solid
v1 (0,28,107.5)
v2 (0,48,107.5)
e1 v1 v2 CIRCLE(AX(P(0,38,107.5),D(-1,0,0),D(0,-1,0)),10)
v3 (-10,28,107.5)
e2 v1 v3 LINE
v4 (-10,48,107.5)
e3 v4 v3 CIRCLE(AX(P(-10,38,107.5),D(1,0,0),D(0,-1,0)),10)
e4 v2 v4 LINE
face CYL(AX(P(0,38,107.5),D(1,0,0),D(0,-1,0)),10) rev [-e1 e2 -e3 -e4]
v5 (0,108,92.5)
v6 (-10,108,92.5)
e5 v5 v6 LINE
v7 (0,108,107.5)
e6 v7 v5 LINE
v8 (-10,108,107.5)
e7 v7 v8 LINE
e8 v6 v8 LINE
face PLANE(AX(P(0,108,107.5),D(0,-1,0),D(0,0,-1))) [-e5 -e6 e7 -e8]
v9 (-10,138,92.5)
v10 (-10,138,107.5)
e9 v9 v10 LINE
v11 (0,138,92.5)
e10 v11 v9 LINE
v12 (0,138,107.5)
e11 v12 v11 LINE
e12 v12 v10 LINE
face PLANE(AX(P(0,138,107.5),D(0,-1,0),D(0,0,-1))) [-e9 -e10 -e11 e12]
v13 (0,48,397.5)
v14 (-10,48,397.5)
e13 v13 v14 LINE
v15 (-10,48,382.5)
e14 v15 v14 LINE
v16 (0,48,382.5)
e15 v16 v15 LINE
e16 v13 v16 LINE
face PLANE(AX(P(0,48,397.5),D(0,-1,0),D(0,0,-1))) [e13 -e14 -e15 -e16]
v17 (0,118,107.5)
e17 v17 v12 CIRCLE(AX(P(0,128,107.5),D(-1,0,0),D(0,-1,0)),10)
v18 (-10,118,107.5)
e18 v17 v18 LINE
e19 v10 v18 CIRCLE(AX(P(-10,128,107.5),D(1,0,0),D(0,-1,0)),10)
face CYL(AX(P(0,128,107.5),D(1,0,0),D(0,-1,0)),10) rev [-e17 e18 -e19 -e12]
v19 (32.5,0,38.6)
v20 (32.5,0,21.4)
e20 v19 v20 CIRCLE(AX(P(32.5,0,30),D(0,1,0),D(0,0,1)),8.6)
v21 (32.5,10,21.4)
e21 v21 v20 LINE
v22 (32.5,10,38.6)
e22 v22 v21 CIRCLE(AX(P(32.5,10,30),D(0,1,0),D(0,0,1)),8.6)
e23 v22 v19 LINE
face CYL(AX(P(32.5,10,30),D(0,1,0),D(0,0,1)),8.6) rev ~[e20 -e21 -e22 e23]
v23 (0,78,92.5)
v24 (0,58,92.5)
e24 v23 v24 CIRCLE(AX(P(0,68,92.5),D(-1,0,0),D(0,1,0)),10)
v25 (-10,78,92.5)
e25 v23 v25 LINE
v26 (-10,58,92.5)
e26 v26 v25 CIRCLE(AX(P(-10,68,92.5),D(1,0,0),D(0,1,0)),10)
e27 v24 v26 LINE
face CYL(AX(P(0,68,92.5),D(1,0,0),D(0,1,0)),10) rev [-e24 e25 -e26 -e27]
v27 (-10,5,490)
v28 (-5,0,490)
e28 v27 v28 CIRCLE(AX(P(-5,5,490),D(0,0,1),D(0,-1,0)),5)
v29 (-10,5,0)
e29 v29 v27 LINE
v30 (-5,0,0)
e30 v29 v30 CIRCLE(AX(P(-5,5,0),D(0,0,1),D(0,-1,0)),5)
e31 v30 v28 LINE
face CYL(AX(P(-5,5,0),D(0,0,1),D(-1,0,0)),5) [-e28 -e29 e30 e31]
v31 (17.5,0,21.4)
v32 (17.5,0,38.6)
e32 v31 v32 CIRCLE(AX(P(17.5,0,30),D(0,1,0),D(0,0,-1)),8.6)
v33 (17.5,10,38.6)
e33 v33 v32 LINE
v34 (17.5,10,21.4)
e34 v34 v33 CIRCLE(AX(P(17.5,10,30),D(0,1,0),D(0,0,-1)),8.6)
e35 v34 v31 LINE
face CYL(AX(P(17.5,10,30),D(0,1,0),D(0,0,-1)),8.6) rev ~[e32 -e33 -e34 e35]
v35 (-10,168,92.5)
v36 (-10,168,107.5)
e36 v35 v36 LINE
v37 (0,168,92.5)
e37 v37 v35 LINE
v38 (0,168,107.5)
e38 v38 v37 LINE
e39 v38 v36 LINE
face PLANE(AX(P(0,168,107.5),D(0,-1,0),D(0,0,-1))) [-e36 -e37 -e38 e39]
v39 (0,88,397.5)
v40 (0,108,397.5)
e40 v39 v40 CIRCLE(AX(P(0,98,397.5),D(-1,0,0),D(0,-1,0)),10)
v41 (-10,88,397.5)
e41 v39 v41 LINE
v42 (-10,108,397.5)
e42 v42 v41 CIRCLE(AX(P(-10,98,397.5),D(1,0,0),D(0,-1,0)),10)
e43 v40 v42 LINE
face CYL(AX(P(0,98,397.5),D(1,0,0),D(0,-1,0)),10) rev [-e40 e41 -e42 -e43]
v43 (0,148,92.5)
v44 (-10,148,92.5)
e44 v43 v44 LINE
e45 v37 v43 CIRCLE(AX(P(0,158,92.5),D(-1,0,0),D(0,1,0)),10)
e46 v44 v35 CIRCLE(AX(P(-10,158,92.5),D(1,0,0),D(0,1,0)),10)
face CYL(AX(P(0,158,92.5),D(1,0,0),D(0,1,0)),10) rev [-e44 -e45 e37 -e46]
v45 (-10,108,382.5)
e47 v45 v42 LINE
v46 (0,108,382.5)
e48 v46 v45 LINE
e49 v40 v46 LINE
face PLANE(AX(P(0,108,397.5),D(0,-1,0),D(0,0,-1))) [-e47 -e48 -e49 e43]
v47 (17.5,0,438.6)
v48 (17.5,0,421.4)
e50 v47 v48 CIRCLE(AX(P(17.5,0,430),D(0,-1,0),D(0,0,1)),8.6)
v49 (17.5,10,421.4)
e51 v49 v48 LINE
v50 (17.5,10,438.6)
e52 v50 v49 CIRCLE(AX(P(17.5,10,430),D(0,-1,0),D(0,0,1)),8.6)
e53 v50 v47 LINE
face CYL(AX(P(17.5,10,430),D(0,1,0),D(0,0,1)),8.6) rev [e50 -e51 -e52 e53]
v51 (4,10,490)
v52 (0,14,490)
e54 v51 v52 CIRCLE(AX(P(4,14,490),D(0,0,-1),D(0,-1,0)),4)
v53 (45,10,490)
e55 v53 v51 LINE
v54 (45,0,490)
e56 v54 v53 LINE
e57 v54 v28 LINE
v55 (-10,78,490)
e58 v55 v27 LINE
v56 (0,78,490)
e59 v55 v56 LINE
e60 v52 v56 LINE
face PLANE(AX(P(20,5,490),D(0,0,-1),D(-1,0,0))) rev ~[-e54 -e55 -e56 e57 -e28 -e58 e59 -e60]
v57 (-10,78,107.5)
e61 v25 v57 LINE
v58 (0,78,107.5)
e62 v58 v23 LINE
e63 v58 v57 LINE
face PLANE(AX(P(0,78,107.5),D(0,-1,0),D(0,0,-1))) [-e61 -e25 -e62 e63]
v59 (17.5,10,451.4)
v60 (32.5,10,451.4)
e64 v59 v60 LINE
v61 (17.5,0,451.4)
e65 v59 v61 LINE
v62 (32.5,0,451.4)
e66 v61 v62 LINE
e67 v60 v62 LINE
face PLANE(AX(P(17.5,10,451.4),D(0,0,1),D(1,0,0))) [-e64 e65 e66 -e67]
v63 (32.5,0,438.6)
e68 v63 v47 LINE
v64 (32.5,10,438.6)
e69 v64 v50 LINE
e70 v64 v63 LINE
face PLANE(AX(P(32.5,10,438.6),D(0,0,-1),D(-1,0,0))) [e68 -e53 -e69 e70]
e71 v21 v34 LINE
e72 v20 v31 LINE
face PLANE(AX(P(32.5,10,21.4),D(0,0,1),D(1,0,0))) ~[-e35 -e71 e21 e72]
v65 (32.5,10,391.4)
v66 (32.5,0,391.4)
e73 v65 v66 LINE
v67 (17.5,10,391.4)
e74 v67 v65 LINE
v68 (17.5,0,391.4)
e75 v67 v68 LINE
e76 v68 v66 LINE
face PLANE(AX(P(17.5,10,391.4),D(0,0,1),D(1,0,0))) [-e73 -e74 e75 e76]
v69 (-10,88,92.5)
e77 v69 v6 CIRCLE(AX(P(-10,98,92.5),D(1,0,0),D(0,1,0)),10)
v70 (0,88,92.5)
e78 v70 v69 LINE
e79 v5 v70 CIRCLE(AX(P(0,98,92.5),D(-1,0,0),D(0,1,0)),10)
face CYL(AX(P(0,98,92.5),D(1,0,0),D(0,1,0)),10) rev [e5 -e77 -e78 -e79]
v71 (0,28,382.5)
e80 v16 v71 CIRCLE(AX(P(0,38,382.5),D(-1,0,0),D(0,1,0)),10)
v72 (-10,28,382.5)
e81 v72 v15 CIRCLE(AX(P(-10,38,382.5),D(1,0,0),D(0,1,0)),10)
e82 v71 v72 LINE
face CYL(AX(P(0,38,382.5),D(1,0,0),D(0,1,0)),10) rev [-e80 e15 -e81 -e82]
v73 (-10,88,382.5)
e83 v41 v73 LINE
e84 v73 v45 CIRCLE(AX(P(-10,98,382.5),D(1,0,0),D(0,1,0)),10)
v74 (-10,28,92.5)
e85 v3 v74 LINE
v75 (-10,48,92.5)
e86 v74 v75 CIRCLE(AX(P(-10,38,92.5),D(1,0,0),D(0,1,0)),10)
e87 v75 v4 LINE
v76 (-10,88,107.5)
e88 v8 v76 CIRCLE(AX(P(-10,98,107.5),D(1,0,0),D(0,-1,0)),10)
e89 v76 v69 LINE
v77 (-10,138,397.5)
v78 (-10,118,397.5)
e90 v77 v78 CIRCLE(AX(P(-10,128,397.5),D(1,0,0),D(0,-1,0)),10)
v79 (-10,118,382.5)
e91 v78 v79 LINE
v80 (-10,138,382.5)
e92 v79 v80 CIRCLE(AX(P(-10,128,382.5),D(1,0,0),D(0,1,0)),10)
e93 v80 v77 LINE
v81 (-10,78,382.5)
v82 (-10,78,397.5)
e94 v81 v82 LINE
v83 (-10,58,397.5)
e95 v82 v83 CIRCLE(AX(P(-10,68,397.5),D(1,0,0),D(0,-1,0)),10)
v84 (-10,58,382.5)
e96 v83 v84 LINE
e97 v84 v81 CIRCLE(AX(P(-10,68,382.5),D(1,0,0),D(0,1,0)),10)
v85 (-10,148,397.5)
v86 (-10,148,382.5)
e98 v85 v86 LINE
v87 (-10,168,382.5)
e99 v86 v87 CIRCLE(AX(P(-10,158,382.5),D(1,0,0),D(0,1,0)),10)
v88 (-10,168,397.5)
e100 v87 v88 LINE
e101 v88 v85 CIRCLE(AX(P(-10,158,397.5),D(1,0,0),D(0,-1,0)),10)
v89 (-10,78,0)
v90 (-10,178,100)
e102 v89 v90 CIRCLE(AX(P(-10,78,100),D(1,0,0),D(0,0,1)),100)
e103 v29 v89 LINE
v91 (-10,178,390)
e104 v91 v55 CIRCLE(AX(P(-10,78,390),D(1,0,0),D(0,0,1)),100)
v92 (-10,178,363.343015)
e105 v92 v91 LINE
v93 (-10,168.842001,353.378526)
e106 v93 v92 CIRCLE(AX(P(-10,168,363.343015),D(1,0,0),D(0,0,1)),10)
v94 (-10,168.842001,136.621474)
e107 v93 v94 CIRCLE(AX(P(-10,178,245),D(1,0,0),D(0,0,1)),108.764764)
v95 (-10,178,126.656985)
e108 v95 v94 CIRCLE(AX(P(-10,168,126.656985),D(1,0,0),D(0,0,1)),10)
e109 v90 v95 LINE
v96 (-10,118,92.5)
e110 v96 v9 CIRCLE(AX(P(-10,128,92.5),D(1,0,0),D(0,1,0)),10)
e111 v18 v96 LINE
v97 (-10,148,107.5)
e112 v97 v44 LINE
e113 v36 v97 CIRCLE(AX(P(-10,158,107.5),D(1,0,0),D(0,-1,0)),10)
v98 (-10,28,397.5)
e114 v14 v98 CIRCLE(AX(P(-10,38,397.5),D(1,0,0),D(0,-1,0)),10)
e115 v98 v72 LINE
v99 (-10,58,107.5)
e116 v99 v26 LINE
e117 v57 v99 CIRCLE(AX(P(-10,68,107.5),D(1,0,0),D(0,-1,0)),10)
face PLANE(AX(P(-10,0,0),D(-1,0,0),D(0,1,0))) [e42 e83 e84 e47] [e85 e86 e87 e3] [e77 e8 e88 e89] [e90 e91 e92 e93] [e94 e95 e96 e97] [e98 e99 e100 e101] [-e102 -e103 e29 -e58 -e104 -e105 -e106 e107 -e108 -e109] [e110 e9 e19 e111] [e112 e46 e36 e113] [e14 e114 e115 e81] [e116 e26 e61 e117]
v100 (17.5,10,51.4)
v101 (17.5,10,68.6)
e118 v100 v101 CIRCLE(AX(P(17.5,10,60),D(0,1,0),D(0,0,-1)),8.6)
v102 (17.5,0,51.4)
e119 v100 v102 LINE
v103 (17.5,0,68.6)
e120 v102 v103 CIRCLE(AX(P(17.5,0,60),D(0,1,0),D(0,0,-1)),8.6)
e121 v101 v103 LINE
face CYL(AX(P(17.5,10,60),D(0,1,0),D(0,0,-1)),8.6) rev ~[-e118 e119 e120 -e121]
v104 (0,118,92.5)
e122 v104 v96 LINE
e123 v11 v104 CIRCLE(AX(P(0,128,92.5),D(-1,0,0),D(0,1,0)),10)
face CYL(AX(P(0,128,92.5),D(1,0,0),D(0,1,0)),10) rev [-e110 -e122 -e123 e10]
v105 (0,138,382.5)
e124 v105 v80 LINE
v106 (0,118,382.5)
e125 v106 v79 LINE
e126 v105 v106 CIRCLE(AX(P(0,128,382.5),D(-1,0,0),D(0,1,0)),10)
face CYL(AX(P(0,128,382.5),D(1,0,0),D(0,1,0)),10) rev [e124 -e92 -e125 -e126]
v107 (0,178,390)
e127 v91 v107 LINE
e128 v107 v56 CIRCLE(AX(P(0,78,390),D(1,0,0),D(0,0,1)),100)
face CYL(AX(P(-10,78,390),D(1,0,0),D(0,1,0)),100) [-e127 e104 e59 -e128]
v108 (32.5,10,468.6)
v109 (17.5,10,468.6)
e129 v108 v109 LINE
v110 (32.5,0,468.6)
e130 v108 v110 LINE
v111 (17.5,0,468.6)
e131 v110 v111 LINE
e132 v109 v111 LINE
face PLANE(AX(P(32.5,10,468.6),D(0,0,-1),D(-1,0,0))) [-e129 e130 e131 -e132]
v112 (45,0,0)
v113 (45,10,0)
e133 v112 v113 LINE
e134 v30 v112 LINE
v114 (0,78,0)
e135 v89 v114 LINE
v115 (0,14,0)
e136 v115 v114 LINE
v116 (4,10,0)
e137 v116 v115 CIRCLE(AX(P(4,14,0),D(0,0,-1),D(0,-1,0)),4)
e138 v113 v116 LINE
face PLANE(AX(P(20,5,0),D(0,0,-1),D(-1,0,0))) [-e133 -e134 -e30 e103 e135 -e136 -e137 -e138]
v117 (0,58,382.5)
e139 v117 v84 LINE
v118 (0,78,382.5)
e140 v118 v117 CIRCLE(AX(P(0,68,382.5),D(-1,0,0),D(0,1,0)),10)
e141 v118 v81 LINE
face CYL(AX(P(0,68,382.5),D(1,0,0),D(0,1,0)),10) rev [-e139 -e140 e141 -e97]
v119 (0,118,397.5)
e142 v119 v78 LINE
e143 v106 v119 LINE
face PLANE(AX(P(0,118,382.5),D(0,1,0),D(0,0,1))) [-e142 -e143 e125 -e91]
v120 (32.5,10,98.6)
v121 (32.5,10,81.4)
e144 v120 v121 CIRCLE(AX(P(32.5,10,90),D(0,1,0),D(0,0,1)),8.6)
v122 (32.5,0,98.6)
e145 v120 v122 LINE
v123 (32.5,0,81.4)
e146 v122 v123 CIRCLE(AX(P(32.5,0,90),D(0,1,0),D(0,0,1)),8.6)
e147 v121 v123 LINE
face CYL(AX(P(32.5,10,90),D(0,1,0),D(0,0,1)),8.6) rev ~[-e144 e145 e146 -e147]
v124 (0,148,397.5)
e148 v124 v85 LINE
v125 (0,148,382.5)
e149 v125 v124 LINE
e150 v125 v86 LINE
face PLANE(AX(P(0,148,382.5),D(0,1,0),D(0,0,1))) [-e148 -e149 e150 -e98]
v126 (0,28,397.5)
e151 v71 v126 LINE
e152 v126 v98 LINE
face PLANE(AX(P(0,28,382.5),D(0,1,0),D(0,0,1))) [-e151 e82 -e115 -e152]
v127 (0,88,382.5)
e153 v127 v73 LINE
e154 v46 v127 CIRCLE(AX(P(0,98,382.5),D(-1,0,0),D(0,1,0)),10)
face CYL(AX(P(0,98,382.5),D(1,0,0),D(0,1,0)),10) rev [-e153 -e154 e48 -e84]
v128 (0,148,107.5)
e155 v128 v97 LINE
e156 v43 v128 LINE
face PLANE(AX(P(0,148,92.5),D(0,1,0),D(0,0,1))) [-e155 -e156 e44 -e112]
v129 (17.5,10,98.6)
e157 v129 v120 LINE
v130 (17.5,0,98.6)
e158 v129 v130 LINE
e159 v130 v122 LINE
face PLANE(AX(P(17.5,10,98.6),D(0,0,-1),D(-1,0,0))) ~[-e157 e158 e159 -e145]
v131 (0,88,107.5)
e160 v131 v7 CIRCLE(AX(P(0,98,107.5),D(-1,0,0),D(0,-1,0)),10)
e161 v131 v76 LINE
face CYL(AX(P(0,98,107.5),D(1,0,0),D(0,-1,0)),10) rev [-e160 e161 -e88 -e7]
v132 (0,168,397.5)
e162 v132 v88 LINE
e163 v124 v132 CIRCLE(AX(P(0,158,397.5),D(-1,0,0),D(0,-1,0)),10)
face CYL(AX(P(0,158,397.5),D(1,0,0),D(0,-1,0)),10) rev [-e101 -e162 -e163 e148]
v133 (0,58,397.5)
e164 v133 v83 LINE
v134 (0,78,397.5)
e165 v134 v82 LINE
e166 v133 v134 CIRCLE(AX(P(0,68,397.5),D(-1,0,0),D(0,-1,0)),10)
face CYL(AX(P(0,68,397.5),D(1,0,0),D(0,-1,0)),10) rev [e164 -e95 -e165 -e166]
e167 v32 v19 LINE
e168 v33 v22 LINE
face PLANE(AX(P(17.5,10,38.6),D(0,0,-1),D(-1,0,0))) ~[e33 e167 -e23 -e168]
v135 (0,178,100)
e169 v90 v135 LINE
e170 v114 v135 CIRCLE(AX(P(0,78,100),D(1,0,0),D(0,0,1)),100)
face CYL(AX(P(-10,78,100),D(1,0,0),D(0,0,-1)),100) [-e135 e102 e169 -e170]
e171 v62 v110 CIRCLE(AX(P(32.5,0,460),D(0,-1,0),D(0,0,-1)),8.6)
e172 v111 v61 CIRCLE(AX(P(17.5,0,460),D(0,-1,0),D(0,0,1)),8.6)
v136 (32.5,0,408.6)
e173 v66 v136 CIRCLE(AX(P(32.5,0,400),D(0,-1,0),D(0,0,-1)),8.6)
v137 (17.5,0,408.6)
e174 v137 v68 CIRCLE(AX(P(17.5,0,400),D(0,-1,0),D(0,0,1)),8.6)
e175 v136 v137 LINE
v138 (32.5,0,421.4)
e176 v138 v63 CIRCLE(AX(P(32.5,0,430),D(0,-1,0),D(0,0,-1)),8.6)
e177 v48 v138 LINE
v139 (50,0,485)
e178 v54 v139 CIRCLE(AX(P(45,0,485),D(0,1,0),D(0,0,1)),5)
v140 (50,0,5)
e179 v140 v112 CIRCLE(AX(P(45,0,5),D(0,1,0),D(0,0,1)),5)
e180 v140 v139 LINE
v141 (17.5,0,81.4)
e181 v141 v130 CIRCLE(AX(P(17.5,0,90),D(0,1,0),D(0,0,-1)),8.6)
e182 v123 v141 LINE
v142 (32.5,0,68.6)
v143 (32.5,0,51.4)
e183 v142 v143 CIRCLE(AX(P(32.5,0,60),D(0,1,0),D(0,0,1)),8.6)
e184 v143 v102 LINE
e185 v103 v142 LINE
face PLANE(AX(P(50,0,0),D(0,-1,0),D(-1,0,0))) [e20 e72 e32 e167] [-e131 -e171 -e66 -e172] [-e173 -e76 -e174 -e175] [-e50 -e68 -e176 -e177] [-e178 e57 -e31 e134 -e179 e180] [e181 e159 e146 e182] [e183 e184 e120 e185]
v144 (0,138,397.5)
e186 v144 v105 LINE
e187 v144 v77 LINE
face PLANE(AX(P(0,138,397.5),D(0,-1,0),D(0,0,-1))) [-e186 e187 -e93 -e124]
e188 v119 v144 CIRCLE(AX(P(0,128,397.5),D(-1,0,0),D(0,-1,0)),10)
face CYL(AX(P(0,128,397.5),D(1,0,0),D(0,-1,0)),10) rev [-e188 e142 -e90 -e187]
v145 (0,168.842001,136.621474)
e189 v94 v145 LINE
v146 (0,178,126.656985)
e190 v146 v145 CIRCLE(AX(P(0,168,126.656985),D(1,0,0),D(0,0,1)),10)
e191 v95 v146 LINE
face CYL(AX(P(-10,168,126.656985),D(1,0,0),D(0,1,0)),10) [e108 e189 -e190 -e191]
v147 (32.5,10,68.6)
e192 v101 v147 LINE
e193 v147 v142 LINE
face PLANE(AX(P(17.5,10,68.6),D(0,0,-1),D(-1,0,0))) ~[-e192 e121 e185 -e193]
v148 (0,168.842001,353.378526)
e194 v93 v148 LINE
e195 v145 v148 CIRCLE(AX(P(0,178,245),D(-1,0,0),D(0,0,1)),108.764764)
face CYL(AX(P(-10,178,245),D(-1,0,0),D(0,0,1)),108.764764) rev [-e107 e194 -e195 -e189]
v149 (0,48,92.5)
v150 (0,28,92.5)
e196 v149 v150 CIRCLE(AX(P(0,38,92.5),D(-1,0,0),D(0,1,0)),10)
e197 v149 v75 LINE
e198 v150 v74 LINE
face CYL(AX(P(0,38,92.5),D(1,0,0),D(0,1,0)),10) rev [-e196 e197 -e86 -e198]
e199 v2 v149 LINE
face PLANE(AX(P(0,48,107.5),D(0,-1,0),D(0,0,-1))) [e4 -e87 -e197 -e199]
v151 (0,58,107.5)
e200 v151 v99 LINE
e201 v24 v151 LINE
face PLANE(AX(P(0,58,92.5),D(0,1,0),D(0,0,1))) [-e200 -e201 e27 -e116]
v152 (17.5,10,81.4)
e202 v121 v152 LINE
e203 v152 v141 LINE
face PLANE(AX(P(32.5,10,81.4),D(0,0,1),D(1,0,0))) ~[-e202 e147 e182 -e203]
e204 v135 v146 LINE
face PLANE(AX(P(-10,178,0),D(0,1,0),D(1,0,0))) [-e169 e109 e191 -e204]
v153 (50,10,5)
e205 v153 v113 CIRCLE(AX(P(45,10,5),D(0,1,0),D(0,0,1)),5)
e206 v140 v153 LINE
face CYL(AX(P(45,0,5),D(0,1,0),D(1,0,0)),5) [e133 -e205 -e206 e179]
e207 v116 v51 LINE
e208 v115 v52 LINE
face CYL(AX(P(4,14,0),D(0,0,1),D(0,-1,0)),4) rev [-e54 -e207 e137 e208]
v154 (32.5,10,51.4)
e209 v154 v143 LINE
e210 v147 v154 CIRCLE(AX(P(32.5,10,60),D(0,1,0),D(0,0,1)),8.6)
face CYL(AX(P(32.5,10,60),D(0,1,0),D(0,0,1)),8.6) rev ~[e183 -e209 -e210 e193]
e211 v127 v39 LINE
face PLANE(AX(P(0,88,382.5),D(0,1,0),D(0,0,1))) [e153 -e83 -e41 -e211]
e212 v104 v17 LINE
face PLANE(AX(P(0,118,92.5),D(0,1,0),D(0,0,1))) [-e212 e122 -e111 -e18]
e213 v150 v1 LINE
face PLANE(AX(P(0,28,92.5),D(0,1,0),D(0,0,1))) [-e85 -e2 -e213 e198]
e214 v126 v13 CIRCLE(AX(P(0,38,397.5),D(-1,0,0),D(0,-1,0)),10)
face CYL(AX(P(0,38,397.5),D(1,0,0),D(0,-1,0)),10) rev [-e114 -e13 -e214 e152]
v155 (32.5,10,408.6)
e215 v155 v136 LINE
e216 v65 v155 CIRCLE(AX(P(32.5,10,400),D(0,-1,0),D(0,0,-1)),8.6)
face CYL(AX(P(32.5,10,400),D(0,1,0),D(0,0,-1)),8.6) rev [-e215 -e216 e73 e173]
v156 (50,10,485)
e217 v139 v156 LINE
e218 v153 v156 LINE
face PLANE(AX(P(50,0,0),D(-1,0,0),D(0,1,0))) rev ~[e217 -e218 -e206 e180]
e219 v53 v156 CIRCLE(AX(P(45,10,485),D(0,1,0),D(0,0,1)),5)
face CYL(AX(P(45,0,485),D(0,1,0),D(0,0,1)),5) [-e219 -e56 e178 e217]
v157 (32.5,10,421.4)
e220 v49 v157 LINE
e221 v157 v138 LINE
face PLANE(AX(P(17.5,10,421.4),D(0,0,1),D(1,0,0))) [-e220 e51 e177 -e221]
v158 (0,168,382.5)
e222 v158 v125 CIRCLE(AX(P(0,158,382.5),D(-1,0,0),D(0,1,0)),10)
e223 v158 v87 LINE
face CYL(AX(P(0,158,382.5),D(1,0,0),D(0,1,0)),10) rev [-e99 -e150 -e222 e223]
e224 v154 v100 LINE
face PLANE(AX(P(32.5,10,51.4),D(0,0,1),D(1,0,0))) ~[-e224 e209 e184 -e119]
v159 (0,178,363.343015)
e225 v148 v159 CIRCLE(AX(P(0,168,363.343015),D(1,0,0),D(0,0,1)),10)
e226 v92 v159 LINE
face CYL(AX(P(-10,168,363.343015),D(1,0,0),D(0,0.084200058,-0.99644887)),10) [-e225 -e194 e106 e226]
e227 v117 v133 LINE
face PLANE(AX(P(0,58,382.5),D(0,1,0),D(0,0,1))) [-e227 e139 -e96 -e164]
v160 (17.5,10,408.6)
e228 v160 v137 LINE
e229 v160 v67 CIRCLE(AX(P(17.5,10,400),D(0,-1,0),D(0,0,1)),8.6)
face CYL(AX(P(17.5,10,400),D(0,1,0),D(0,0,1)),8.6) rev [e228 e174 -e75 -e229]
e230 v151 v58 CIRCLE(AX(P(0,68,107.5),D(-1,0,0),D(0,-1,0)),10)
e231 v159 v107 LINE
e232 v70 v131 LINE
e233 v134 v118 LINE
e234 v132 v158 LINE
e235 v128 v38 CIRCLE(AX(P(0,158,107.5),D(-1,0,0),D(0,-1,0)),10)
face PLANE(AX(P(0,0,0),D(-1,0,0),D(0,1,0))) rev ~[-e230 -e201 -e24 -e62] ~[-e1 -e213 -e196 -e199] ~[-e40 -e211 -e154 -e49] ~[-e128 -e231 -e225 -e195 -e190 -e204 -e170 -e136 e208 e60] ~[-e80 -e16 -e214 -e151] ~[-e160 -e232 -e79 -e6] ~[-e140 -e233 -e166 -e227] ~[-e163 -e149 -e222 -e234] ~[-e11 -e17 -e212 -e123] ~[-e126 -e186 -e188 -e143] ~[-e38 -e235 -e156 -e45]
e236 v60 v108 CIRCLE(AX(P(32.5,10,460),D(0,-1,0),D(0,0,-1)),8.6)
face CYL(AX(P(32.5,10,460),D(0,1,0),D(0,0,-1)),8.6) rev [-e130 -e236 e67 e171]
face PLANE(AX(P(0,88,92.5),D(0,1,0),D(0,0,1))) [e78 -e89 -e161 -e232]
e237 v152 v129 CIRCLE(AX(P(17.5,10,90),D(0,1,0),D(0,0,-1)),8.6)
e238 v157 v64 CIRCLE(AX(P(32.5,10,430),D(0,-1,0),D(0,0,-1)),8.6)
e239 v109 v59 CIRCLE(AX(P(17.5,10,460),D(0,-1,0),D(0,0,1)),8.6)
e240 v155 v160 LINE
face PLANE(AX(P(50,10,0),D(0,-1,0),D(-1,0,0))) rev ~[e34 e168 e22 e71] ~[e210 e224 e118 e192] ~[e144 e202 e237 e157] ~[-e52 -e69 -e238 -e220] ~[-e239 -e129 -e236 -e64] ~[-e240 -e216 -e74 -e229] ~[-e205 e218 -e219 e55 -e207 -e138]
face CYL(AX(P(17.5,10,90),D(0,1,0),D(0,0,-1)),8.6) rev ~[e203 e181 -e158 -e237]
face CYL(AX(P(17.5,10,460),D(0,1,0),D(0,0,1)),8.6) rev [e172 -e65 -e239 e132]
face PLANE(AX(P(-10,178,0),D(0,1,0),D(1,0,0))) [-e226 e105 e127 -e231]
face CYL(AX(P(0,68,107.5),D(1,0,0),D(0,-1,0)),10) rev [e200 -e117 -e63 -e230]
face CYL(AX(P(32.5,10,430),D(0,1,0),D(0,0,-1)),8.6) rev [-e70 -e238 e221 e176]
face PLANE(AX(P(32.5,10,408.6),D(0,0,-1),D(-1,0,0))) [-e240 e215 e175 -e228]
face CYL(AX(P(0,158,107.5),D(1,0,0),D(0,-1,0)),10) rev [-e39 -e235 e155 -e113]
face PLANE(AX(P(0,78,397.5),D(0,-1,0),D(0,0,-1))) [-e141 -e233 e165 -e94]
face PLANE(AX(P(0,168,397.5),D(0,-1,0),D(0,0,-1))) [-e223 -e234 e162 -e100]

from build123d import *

# Parameters (mm, degrees)
SZKIC1_W                    = 10
SZKIC1_H                    = 178
DODANIE_WYCI_GNI_CIE1_DEPTH = 490
WYTNIJ_WYCI_GNI_CIE1_DEPTH  = 522.424970633
WYTNIJ_WYCI_GNI_CIE2_DEPTH  = 522.424970633
ZAOKR_GLENIE1_R             = 100
ZAOKR_GLENIE2_R             = 100
WYTNIJ_WYCI_GNI_CIE3_DEPTH  = 522.424970633
ZAOKR_GLENIE3_R             = 10
SZKIC6_W                    = 60
SZKIC6_H                    = 10
DODANIE_WYCI_GNI_CIE2_DEPTH = 490
ZAOKR_GLENIE4_R             = 5
ZAOKR_GLENIE5_R             = 4
ZAOKR_GLENIE6_R             = 5
WYTNIJ_WYCI_GNI_CIE4_DEPTH  = 10
WYTNIJ_WYCI_GNI_CIE5_DEPTH  = 10
WYTNIJ_WYCI_GNI_CIE6_DEPTH  = 10


with BuildPart() as part:
    # Szkic1 → Dodanie-wyciągnięcie1 (new body)
    with BuildSketch(Plane.XY):
        with Locations((-5, 89)):
            Rectangle(SZKIC1_W, SZKIC1_H)
    extrude(amount=DODANIE_WYCI_GNI_CIE1_DEPTH)

    # Szkic2 → Wytnij-wyciągnięcie1 (cut, through all)
    with BuildSketch(Plane(origin=(0, 0, 0), x_dir=(0, 0, -1), z_dir=(1, 0, 0))):
        with BuildLine():
            Line((-107.5, 168), (-92.5, 168))
            ThreePointArc((-92.5, 168), (-82.5, 158), (-92.5, 148))
            Line((-92.5, 148), (-107.5, 148))
            ThreePointArc((-107.5, 148), (-117.5, 158), (-107.5, 168))
        make_face()
        with BuildLine():
            Line((-107.5, 138), (-92.5, 138))
            ThreePointArc((-92.5, 138), (-82.5, 128), (-92.5, 118))
            Line((-92.5, 118), (-107.5, 118))
            ThreePointArc((-107.5, 118), (-117.5, 128), (-107.5, 138))
        make_face()
        with BuildLine():
            Line((-107.5, 108), (-92.5, 108))
            ThreePointArc((-92.5, 108), (-82.5, 98), (-92.5, 88))
            Line((-92.5, 88), (-107.5, 88))
            ThreePointArc((-107.5, 88), (-117.5, 98), (-107.5, 108))
        make_face()
        with BuildLine():
            Line((-107.5, 78), (-92.5, 78))
            ThreePointArc((-92.5, 78), (-82.5, 68), (-92.5, 58))
            Line((-92.5, 58), (-107.5, 58))
            ThreePointArc((-107.5, 58), (-117.5, 68), (-107.5, 78))
        make_face()
        with BuildLine():
            Line((-107.5, 48), (-92.5, 48))
            ThreePointArc((-92.5, 48), (-82.5, 38), (-92.5, 28))
            Line((-92.5, 28), (-107.5, 28))
            ThreePointArc((-107.5, 28), (-117.5, 38), (-107.5, 48))
        make_face()
    extrude(amount=-WYTNIJ_WYCI_GNI_CIE1_DEPTH, mode=Mode.SUBTRACT)

    # Szkic3 → Wytnij-wyciągnięcie2 (cut, through all)
    with BuildSketch(Plane(origin=(0, 0, 0), x_dir=(0, 0, -1), z_dir=(1, 0, 0))):
        with BuildLine():
            Line((-397.5, 168), (-382.5, 168))
            ThreePointArc((-382.5, 168), (-372.5, 158), (-382.5, 148))
            Line((-382.5, 148), (-397.5, 148))
            ThreePointArc((-397.5, 148), (-407.5, 158), (-397.5, 168))
        make_face()
        with BuildLine():
            Line((-397.5, 138), (-382.5, 138))
            ThreePointArc((-382.5, 138), (-372.5, 128), (-382.5, 118))
            Line((-382.5, 118), (-397.5, 118))
            ThreePointArc((-397.5, 118), (-407.5, 128), (-397.5, 138))
        make_face()
        with BuildLine():
            Line((-397.5, 108), (-382.5, 108))
            ThreePointArc((-382.5, 108), (-372.5, 98), (-382.5, 88))
            Line((-382.5, 88), (-397.5, 88))
            ThreePointArc((-397.5, 88), (-407.5, 98), (-397.5, 108))
        make_face()
        with BuildLine():
            Line((-397.5, 78), (-382.5, 78))
            ThreePointArc((-382.5, 78), (-372.5, 68), (-382.5, 58))
            Line((-382.5, 58), (-397.5, 58))
            ThreePointArc((-397.5, 58), (-407.5, 68), (-397.5, 78))
        make_face()
        with BuildLine():
            Line((-397.5, 48), (-382.5, 48))
            ThreePointArc((-382.5, 48), (-372.5, 38), (-382.5, 28))
            Line((-382.5, 28), (-397.5, 28))
            ThreePointArc((-397.5, 28), (-407.5, 38), (-397.5, 48))
        make_face()
    extrude(amount=-WYTNIJ_WYCI_GNI_CIE2_DEPTH, mode=Mode.SUBTRACT)

    # Zaokrąglenie1
    zaokr_glenie1_edges = [part.edges().sort_by_distance(p)[0] for p in [
        (-5, 178, 0),
    ]]
    fillet(zaokr_glenie1_edges, radius=ZAOKR_GLENIE1_R)

    # Zaokrąglenie2
    zaokr_glenie2_edges = [part.edges().sort_by_distance(p)[0] for p in [
        (-5, 178, 490),
    ]]
    fillet(zaokr_glenie2_edges, radius=ZAOKR_GLENIE2_R)

    # Szkic5 → Wytnij-wyciągnięcie3 (cut, through all)
    with BuildSketch(Plane.ZY.offset(10)):
        with BuildLine():
            Line((136.235236097, 178), (353.764763903, 178))
            ThreePointArc((353.764763903, 178), (245, 69.235236097), (136.235236097, 178))
        make_face()
    extrude(amount=-WYTNIJ_WYCI_GNI_CIE3_DEPTH, mode=Mode.SUBTRACT)

    # Zaokrąglenie3
    zaokr_glenie3_edges = [part.edges().sort_by_distance(p)[0] for p in [
        (-5, 178, 353.764763903),
        (-5, 178, 136.235236097),
    ]]
    fillet(zaokr_glenie3_edges, radius=ZAOKR_GLENIE3_R)

    # Szkic6 → Dodanie-wyciągnięcie2 (add, through all)
    with BuildSketch(Plane(origin=(0, 0, 0), x_dir=(-1, 0, 0), z_dir=(0, 0, -1))):
        with Locations((-20, 5)):
            Rectangle(SZKIC6_W, SZKIC6_H)
    extrude(amount=-DODANIE_WYCI_GNI_CIE2_DEPTH)

    # Zaokrąglenie4
    zaokr_glenie4_edges = [part.edges().sort_by_distance(p)[0] for p in [
        (-10, 0, 245),
    ]]
    fillet(zaokr_glenie4_edges, radius=ZAOKR_GLENIE4_R)

    # Zaokrąglenie5
    zaokr_glenie5_edges = [part.edges().sort_by_distance(p)[0] for p in [
        (0, 10, 245),
    ]]
    fillet(zaokr_glenie5_edges, radius=ZAOKR_GLENIE5_R)

    # Zaokrąglenie6
    zaokr_glenie6_edges = [part.edges().sort_by_distance(p)[0] for p in [
        (50, 5, 0),
        (50, 5, 490),
    ]]
    fillet(zaokr_glenie6_edges, radius=ZAOKR_GLENIE6_R)

    # Szkic7 → Wytnij-wyciągnięcie4 (cut)
    with BuildSketch(Plane(origin=(0, 10, 0), x_dir=(1, 0, 0), z_dir=(0, 1, 0))):
        with BuildLine():
            Line((32.5, -468.6), (17.5, -468.6))
            ThreePointArc((17.5, -468.6), (8.9, -460), (17.5, -451.4))
            Line((17.5, -451.4), (32.5, -451.4))
            ThreePointArc((32.5, -451.4), (41.1, -460), (32.5, -468.6))
        make_face()
    wytnij_wyci_gni_cie4 = extrude(amount=-WYTNIJ_WYCI_GNI_CIE4_DEPTH, mode=Mode.SUBTRACT)

    # Lustro2: Wytnij-wyciągnięcie4 across plane
    add(wytnij_wyci_gni_cie4.mirror(Plane(origin=(0, 0, 245), x_dir=(1, 0, 0), z_dir=(0, 0, -1))), mode=Mode.SUBTRACT)

    # Szkic8 → Wytnij-wyciągnięcie5 (cut)
    with BuildSketch(Plane(origin=(0, 10, 0), x_dir=(1, 0, 0), z_dir=(0, 1, 0))):
        with BuildLine():
            Line((17.5, -421.4), (32.5, -421.4))
            ThreePointArc((32.5, -421.4), (41.1, -430), (32.5, -438.6))
            Line((32.5, -438.6), (17.5, -438.6))
            ThreePointArc((17.5, -438.6), (8.9, -430), (17.5, -421.4))
        make_face()
    wytnij_wyci_gni_cie5 = extrude(amount=-WYTNIJ_WYCI_GNI_CIE5_DEPTH, mode=Mode.SUBTRACT)

    # Lustro3: Wytnij-wyciągnięcie5 across plane
    add(wytnij_wyci_gni_cie5.mirror(Plane(origin=(0, 0, 245), x_dir=(1, 0, 0), z_dir=(0, 0, -1))), mode=Mode.SUBTRACT)

    # Szkic9 → Wytnij-wyciągnięcie6 (cut)
    with BuildSketch(Plane(origin=(0, 10, 0), x_dir=(1, 0, 0), z_dir=(0, 1, 0))):
        with BuildLine():
            Line((17.5, -391.4), (32.5, -391.4))
            ThreePointArc((32.5, -391.4), (41.1, -400), (32.5, -408.6))
            Line((32.5, -408.6), (17.5, -408.6))
            ThreePointArc((17.5, -408.6), (8.9, -400), (17.5, -391.4))
        make_face()
    wytnij_wyci_gni_cie6 = extrude(amount=-WYTNIJ_WYCI_GNI_CIE6_DEPTH, mode=Mode.SUBTRACT)

    # Lustro4: Wytnij-wyciągnięcie6 across plane
    add(wytnij_wyci_gni_cie6.mirror(Plane(origin=(0, 0, 245), x_dir=(1, 0, 0), z_dir=(0, 0, -1))), mode=Mode.SUBTRACT)


solid = part.part
